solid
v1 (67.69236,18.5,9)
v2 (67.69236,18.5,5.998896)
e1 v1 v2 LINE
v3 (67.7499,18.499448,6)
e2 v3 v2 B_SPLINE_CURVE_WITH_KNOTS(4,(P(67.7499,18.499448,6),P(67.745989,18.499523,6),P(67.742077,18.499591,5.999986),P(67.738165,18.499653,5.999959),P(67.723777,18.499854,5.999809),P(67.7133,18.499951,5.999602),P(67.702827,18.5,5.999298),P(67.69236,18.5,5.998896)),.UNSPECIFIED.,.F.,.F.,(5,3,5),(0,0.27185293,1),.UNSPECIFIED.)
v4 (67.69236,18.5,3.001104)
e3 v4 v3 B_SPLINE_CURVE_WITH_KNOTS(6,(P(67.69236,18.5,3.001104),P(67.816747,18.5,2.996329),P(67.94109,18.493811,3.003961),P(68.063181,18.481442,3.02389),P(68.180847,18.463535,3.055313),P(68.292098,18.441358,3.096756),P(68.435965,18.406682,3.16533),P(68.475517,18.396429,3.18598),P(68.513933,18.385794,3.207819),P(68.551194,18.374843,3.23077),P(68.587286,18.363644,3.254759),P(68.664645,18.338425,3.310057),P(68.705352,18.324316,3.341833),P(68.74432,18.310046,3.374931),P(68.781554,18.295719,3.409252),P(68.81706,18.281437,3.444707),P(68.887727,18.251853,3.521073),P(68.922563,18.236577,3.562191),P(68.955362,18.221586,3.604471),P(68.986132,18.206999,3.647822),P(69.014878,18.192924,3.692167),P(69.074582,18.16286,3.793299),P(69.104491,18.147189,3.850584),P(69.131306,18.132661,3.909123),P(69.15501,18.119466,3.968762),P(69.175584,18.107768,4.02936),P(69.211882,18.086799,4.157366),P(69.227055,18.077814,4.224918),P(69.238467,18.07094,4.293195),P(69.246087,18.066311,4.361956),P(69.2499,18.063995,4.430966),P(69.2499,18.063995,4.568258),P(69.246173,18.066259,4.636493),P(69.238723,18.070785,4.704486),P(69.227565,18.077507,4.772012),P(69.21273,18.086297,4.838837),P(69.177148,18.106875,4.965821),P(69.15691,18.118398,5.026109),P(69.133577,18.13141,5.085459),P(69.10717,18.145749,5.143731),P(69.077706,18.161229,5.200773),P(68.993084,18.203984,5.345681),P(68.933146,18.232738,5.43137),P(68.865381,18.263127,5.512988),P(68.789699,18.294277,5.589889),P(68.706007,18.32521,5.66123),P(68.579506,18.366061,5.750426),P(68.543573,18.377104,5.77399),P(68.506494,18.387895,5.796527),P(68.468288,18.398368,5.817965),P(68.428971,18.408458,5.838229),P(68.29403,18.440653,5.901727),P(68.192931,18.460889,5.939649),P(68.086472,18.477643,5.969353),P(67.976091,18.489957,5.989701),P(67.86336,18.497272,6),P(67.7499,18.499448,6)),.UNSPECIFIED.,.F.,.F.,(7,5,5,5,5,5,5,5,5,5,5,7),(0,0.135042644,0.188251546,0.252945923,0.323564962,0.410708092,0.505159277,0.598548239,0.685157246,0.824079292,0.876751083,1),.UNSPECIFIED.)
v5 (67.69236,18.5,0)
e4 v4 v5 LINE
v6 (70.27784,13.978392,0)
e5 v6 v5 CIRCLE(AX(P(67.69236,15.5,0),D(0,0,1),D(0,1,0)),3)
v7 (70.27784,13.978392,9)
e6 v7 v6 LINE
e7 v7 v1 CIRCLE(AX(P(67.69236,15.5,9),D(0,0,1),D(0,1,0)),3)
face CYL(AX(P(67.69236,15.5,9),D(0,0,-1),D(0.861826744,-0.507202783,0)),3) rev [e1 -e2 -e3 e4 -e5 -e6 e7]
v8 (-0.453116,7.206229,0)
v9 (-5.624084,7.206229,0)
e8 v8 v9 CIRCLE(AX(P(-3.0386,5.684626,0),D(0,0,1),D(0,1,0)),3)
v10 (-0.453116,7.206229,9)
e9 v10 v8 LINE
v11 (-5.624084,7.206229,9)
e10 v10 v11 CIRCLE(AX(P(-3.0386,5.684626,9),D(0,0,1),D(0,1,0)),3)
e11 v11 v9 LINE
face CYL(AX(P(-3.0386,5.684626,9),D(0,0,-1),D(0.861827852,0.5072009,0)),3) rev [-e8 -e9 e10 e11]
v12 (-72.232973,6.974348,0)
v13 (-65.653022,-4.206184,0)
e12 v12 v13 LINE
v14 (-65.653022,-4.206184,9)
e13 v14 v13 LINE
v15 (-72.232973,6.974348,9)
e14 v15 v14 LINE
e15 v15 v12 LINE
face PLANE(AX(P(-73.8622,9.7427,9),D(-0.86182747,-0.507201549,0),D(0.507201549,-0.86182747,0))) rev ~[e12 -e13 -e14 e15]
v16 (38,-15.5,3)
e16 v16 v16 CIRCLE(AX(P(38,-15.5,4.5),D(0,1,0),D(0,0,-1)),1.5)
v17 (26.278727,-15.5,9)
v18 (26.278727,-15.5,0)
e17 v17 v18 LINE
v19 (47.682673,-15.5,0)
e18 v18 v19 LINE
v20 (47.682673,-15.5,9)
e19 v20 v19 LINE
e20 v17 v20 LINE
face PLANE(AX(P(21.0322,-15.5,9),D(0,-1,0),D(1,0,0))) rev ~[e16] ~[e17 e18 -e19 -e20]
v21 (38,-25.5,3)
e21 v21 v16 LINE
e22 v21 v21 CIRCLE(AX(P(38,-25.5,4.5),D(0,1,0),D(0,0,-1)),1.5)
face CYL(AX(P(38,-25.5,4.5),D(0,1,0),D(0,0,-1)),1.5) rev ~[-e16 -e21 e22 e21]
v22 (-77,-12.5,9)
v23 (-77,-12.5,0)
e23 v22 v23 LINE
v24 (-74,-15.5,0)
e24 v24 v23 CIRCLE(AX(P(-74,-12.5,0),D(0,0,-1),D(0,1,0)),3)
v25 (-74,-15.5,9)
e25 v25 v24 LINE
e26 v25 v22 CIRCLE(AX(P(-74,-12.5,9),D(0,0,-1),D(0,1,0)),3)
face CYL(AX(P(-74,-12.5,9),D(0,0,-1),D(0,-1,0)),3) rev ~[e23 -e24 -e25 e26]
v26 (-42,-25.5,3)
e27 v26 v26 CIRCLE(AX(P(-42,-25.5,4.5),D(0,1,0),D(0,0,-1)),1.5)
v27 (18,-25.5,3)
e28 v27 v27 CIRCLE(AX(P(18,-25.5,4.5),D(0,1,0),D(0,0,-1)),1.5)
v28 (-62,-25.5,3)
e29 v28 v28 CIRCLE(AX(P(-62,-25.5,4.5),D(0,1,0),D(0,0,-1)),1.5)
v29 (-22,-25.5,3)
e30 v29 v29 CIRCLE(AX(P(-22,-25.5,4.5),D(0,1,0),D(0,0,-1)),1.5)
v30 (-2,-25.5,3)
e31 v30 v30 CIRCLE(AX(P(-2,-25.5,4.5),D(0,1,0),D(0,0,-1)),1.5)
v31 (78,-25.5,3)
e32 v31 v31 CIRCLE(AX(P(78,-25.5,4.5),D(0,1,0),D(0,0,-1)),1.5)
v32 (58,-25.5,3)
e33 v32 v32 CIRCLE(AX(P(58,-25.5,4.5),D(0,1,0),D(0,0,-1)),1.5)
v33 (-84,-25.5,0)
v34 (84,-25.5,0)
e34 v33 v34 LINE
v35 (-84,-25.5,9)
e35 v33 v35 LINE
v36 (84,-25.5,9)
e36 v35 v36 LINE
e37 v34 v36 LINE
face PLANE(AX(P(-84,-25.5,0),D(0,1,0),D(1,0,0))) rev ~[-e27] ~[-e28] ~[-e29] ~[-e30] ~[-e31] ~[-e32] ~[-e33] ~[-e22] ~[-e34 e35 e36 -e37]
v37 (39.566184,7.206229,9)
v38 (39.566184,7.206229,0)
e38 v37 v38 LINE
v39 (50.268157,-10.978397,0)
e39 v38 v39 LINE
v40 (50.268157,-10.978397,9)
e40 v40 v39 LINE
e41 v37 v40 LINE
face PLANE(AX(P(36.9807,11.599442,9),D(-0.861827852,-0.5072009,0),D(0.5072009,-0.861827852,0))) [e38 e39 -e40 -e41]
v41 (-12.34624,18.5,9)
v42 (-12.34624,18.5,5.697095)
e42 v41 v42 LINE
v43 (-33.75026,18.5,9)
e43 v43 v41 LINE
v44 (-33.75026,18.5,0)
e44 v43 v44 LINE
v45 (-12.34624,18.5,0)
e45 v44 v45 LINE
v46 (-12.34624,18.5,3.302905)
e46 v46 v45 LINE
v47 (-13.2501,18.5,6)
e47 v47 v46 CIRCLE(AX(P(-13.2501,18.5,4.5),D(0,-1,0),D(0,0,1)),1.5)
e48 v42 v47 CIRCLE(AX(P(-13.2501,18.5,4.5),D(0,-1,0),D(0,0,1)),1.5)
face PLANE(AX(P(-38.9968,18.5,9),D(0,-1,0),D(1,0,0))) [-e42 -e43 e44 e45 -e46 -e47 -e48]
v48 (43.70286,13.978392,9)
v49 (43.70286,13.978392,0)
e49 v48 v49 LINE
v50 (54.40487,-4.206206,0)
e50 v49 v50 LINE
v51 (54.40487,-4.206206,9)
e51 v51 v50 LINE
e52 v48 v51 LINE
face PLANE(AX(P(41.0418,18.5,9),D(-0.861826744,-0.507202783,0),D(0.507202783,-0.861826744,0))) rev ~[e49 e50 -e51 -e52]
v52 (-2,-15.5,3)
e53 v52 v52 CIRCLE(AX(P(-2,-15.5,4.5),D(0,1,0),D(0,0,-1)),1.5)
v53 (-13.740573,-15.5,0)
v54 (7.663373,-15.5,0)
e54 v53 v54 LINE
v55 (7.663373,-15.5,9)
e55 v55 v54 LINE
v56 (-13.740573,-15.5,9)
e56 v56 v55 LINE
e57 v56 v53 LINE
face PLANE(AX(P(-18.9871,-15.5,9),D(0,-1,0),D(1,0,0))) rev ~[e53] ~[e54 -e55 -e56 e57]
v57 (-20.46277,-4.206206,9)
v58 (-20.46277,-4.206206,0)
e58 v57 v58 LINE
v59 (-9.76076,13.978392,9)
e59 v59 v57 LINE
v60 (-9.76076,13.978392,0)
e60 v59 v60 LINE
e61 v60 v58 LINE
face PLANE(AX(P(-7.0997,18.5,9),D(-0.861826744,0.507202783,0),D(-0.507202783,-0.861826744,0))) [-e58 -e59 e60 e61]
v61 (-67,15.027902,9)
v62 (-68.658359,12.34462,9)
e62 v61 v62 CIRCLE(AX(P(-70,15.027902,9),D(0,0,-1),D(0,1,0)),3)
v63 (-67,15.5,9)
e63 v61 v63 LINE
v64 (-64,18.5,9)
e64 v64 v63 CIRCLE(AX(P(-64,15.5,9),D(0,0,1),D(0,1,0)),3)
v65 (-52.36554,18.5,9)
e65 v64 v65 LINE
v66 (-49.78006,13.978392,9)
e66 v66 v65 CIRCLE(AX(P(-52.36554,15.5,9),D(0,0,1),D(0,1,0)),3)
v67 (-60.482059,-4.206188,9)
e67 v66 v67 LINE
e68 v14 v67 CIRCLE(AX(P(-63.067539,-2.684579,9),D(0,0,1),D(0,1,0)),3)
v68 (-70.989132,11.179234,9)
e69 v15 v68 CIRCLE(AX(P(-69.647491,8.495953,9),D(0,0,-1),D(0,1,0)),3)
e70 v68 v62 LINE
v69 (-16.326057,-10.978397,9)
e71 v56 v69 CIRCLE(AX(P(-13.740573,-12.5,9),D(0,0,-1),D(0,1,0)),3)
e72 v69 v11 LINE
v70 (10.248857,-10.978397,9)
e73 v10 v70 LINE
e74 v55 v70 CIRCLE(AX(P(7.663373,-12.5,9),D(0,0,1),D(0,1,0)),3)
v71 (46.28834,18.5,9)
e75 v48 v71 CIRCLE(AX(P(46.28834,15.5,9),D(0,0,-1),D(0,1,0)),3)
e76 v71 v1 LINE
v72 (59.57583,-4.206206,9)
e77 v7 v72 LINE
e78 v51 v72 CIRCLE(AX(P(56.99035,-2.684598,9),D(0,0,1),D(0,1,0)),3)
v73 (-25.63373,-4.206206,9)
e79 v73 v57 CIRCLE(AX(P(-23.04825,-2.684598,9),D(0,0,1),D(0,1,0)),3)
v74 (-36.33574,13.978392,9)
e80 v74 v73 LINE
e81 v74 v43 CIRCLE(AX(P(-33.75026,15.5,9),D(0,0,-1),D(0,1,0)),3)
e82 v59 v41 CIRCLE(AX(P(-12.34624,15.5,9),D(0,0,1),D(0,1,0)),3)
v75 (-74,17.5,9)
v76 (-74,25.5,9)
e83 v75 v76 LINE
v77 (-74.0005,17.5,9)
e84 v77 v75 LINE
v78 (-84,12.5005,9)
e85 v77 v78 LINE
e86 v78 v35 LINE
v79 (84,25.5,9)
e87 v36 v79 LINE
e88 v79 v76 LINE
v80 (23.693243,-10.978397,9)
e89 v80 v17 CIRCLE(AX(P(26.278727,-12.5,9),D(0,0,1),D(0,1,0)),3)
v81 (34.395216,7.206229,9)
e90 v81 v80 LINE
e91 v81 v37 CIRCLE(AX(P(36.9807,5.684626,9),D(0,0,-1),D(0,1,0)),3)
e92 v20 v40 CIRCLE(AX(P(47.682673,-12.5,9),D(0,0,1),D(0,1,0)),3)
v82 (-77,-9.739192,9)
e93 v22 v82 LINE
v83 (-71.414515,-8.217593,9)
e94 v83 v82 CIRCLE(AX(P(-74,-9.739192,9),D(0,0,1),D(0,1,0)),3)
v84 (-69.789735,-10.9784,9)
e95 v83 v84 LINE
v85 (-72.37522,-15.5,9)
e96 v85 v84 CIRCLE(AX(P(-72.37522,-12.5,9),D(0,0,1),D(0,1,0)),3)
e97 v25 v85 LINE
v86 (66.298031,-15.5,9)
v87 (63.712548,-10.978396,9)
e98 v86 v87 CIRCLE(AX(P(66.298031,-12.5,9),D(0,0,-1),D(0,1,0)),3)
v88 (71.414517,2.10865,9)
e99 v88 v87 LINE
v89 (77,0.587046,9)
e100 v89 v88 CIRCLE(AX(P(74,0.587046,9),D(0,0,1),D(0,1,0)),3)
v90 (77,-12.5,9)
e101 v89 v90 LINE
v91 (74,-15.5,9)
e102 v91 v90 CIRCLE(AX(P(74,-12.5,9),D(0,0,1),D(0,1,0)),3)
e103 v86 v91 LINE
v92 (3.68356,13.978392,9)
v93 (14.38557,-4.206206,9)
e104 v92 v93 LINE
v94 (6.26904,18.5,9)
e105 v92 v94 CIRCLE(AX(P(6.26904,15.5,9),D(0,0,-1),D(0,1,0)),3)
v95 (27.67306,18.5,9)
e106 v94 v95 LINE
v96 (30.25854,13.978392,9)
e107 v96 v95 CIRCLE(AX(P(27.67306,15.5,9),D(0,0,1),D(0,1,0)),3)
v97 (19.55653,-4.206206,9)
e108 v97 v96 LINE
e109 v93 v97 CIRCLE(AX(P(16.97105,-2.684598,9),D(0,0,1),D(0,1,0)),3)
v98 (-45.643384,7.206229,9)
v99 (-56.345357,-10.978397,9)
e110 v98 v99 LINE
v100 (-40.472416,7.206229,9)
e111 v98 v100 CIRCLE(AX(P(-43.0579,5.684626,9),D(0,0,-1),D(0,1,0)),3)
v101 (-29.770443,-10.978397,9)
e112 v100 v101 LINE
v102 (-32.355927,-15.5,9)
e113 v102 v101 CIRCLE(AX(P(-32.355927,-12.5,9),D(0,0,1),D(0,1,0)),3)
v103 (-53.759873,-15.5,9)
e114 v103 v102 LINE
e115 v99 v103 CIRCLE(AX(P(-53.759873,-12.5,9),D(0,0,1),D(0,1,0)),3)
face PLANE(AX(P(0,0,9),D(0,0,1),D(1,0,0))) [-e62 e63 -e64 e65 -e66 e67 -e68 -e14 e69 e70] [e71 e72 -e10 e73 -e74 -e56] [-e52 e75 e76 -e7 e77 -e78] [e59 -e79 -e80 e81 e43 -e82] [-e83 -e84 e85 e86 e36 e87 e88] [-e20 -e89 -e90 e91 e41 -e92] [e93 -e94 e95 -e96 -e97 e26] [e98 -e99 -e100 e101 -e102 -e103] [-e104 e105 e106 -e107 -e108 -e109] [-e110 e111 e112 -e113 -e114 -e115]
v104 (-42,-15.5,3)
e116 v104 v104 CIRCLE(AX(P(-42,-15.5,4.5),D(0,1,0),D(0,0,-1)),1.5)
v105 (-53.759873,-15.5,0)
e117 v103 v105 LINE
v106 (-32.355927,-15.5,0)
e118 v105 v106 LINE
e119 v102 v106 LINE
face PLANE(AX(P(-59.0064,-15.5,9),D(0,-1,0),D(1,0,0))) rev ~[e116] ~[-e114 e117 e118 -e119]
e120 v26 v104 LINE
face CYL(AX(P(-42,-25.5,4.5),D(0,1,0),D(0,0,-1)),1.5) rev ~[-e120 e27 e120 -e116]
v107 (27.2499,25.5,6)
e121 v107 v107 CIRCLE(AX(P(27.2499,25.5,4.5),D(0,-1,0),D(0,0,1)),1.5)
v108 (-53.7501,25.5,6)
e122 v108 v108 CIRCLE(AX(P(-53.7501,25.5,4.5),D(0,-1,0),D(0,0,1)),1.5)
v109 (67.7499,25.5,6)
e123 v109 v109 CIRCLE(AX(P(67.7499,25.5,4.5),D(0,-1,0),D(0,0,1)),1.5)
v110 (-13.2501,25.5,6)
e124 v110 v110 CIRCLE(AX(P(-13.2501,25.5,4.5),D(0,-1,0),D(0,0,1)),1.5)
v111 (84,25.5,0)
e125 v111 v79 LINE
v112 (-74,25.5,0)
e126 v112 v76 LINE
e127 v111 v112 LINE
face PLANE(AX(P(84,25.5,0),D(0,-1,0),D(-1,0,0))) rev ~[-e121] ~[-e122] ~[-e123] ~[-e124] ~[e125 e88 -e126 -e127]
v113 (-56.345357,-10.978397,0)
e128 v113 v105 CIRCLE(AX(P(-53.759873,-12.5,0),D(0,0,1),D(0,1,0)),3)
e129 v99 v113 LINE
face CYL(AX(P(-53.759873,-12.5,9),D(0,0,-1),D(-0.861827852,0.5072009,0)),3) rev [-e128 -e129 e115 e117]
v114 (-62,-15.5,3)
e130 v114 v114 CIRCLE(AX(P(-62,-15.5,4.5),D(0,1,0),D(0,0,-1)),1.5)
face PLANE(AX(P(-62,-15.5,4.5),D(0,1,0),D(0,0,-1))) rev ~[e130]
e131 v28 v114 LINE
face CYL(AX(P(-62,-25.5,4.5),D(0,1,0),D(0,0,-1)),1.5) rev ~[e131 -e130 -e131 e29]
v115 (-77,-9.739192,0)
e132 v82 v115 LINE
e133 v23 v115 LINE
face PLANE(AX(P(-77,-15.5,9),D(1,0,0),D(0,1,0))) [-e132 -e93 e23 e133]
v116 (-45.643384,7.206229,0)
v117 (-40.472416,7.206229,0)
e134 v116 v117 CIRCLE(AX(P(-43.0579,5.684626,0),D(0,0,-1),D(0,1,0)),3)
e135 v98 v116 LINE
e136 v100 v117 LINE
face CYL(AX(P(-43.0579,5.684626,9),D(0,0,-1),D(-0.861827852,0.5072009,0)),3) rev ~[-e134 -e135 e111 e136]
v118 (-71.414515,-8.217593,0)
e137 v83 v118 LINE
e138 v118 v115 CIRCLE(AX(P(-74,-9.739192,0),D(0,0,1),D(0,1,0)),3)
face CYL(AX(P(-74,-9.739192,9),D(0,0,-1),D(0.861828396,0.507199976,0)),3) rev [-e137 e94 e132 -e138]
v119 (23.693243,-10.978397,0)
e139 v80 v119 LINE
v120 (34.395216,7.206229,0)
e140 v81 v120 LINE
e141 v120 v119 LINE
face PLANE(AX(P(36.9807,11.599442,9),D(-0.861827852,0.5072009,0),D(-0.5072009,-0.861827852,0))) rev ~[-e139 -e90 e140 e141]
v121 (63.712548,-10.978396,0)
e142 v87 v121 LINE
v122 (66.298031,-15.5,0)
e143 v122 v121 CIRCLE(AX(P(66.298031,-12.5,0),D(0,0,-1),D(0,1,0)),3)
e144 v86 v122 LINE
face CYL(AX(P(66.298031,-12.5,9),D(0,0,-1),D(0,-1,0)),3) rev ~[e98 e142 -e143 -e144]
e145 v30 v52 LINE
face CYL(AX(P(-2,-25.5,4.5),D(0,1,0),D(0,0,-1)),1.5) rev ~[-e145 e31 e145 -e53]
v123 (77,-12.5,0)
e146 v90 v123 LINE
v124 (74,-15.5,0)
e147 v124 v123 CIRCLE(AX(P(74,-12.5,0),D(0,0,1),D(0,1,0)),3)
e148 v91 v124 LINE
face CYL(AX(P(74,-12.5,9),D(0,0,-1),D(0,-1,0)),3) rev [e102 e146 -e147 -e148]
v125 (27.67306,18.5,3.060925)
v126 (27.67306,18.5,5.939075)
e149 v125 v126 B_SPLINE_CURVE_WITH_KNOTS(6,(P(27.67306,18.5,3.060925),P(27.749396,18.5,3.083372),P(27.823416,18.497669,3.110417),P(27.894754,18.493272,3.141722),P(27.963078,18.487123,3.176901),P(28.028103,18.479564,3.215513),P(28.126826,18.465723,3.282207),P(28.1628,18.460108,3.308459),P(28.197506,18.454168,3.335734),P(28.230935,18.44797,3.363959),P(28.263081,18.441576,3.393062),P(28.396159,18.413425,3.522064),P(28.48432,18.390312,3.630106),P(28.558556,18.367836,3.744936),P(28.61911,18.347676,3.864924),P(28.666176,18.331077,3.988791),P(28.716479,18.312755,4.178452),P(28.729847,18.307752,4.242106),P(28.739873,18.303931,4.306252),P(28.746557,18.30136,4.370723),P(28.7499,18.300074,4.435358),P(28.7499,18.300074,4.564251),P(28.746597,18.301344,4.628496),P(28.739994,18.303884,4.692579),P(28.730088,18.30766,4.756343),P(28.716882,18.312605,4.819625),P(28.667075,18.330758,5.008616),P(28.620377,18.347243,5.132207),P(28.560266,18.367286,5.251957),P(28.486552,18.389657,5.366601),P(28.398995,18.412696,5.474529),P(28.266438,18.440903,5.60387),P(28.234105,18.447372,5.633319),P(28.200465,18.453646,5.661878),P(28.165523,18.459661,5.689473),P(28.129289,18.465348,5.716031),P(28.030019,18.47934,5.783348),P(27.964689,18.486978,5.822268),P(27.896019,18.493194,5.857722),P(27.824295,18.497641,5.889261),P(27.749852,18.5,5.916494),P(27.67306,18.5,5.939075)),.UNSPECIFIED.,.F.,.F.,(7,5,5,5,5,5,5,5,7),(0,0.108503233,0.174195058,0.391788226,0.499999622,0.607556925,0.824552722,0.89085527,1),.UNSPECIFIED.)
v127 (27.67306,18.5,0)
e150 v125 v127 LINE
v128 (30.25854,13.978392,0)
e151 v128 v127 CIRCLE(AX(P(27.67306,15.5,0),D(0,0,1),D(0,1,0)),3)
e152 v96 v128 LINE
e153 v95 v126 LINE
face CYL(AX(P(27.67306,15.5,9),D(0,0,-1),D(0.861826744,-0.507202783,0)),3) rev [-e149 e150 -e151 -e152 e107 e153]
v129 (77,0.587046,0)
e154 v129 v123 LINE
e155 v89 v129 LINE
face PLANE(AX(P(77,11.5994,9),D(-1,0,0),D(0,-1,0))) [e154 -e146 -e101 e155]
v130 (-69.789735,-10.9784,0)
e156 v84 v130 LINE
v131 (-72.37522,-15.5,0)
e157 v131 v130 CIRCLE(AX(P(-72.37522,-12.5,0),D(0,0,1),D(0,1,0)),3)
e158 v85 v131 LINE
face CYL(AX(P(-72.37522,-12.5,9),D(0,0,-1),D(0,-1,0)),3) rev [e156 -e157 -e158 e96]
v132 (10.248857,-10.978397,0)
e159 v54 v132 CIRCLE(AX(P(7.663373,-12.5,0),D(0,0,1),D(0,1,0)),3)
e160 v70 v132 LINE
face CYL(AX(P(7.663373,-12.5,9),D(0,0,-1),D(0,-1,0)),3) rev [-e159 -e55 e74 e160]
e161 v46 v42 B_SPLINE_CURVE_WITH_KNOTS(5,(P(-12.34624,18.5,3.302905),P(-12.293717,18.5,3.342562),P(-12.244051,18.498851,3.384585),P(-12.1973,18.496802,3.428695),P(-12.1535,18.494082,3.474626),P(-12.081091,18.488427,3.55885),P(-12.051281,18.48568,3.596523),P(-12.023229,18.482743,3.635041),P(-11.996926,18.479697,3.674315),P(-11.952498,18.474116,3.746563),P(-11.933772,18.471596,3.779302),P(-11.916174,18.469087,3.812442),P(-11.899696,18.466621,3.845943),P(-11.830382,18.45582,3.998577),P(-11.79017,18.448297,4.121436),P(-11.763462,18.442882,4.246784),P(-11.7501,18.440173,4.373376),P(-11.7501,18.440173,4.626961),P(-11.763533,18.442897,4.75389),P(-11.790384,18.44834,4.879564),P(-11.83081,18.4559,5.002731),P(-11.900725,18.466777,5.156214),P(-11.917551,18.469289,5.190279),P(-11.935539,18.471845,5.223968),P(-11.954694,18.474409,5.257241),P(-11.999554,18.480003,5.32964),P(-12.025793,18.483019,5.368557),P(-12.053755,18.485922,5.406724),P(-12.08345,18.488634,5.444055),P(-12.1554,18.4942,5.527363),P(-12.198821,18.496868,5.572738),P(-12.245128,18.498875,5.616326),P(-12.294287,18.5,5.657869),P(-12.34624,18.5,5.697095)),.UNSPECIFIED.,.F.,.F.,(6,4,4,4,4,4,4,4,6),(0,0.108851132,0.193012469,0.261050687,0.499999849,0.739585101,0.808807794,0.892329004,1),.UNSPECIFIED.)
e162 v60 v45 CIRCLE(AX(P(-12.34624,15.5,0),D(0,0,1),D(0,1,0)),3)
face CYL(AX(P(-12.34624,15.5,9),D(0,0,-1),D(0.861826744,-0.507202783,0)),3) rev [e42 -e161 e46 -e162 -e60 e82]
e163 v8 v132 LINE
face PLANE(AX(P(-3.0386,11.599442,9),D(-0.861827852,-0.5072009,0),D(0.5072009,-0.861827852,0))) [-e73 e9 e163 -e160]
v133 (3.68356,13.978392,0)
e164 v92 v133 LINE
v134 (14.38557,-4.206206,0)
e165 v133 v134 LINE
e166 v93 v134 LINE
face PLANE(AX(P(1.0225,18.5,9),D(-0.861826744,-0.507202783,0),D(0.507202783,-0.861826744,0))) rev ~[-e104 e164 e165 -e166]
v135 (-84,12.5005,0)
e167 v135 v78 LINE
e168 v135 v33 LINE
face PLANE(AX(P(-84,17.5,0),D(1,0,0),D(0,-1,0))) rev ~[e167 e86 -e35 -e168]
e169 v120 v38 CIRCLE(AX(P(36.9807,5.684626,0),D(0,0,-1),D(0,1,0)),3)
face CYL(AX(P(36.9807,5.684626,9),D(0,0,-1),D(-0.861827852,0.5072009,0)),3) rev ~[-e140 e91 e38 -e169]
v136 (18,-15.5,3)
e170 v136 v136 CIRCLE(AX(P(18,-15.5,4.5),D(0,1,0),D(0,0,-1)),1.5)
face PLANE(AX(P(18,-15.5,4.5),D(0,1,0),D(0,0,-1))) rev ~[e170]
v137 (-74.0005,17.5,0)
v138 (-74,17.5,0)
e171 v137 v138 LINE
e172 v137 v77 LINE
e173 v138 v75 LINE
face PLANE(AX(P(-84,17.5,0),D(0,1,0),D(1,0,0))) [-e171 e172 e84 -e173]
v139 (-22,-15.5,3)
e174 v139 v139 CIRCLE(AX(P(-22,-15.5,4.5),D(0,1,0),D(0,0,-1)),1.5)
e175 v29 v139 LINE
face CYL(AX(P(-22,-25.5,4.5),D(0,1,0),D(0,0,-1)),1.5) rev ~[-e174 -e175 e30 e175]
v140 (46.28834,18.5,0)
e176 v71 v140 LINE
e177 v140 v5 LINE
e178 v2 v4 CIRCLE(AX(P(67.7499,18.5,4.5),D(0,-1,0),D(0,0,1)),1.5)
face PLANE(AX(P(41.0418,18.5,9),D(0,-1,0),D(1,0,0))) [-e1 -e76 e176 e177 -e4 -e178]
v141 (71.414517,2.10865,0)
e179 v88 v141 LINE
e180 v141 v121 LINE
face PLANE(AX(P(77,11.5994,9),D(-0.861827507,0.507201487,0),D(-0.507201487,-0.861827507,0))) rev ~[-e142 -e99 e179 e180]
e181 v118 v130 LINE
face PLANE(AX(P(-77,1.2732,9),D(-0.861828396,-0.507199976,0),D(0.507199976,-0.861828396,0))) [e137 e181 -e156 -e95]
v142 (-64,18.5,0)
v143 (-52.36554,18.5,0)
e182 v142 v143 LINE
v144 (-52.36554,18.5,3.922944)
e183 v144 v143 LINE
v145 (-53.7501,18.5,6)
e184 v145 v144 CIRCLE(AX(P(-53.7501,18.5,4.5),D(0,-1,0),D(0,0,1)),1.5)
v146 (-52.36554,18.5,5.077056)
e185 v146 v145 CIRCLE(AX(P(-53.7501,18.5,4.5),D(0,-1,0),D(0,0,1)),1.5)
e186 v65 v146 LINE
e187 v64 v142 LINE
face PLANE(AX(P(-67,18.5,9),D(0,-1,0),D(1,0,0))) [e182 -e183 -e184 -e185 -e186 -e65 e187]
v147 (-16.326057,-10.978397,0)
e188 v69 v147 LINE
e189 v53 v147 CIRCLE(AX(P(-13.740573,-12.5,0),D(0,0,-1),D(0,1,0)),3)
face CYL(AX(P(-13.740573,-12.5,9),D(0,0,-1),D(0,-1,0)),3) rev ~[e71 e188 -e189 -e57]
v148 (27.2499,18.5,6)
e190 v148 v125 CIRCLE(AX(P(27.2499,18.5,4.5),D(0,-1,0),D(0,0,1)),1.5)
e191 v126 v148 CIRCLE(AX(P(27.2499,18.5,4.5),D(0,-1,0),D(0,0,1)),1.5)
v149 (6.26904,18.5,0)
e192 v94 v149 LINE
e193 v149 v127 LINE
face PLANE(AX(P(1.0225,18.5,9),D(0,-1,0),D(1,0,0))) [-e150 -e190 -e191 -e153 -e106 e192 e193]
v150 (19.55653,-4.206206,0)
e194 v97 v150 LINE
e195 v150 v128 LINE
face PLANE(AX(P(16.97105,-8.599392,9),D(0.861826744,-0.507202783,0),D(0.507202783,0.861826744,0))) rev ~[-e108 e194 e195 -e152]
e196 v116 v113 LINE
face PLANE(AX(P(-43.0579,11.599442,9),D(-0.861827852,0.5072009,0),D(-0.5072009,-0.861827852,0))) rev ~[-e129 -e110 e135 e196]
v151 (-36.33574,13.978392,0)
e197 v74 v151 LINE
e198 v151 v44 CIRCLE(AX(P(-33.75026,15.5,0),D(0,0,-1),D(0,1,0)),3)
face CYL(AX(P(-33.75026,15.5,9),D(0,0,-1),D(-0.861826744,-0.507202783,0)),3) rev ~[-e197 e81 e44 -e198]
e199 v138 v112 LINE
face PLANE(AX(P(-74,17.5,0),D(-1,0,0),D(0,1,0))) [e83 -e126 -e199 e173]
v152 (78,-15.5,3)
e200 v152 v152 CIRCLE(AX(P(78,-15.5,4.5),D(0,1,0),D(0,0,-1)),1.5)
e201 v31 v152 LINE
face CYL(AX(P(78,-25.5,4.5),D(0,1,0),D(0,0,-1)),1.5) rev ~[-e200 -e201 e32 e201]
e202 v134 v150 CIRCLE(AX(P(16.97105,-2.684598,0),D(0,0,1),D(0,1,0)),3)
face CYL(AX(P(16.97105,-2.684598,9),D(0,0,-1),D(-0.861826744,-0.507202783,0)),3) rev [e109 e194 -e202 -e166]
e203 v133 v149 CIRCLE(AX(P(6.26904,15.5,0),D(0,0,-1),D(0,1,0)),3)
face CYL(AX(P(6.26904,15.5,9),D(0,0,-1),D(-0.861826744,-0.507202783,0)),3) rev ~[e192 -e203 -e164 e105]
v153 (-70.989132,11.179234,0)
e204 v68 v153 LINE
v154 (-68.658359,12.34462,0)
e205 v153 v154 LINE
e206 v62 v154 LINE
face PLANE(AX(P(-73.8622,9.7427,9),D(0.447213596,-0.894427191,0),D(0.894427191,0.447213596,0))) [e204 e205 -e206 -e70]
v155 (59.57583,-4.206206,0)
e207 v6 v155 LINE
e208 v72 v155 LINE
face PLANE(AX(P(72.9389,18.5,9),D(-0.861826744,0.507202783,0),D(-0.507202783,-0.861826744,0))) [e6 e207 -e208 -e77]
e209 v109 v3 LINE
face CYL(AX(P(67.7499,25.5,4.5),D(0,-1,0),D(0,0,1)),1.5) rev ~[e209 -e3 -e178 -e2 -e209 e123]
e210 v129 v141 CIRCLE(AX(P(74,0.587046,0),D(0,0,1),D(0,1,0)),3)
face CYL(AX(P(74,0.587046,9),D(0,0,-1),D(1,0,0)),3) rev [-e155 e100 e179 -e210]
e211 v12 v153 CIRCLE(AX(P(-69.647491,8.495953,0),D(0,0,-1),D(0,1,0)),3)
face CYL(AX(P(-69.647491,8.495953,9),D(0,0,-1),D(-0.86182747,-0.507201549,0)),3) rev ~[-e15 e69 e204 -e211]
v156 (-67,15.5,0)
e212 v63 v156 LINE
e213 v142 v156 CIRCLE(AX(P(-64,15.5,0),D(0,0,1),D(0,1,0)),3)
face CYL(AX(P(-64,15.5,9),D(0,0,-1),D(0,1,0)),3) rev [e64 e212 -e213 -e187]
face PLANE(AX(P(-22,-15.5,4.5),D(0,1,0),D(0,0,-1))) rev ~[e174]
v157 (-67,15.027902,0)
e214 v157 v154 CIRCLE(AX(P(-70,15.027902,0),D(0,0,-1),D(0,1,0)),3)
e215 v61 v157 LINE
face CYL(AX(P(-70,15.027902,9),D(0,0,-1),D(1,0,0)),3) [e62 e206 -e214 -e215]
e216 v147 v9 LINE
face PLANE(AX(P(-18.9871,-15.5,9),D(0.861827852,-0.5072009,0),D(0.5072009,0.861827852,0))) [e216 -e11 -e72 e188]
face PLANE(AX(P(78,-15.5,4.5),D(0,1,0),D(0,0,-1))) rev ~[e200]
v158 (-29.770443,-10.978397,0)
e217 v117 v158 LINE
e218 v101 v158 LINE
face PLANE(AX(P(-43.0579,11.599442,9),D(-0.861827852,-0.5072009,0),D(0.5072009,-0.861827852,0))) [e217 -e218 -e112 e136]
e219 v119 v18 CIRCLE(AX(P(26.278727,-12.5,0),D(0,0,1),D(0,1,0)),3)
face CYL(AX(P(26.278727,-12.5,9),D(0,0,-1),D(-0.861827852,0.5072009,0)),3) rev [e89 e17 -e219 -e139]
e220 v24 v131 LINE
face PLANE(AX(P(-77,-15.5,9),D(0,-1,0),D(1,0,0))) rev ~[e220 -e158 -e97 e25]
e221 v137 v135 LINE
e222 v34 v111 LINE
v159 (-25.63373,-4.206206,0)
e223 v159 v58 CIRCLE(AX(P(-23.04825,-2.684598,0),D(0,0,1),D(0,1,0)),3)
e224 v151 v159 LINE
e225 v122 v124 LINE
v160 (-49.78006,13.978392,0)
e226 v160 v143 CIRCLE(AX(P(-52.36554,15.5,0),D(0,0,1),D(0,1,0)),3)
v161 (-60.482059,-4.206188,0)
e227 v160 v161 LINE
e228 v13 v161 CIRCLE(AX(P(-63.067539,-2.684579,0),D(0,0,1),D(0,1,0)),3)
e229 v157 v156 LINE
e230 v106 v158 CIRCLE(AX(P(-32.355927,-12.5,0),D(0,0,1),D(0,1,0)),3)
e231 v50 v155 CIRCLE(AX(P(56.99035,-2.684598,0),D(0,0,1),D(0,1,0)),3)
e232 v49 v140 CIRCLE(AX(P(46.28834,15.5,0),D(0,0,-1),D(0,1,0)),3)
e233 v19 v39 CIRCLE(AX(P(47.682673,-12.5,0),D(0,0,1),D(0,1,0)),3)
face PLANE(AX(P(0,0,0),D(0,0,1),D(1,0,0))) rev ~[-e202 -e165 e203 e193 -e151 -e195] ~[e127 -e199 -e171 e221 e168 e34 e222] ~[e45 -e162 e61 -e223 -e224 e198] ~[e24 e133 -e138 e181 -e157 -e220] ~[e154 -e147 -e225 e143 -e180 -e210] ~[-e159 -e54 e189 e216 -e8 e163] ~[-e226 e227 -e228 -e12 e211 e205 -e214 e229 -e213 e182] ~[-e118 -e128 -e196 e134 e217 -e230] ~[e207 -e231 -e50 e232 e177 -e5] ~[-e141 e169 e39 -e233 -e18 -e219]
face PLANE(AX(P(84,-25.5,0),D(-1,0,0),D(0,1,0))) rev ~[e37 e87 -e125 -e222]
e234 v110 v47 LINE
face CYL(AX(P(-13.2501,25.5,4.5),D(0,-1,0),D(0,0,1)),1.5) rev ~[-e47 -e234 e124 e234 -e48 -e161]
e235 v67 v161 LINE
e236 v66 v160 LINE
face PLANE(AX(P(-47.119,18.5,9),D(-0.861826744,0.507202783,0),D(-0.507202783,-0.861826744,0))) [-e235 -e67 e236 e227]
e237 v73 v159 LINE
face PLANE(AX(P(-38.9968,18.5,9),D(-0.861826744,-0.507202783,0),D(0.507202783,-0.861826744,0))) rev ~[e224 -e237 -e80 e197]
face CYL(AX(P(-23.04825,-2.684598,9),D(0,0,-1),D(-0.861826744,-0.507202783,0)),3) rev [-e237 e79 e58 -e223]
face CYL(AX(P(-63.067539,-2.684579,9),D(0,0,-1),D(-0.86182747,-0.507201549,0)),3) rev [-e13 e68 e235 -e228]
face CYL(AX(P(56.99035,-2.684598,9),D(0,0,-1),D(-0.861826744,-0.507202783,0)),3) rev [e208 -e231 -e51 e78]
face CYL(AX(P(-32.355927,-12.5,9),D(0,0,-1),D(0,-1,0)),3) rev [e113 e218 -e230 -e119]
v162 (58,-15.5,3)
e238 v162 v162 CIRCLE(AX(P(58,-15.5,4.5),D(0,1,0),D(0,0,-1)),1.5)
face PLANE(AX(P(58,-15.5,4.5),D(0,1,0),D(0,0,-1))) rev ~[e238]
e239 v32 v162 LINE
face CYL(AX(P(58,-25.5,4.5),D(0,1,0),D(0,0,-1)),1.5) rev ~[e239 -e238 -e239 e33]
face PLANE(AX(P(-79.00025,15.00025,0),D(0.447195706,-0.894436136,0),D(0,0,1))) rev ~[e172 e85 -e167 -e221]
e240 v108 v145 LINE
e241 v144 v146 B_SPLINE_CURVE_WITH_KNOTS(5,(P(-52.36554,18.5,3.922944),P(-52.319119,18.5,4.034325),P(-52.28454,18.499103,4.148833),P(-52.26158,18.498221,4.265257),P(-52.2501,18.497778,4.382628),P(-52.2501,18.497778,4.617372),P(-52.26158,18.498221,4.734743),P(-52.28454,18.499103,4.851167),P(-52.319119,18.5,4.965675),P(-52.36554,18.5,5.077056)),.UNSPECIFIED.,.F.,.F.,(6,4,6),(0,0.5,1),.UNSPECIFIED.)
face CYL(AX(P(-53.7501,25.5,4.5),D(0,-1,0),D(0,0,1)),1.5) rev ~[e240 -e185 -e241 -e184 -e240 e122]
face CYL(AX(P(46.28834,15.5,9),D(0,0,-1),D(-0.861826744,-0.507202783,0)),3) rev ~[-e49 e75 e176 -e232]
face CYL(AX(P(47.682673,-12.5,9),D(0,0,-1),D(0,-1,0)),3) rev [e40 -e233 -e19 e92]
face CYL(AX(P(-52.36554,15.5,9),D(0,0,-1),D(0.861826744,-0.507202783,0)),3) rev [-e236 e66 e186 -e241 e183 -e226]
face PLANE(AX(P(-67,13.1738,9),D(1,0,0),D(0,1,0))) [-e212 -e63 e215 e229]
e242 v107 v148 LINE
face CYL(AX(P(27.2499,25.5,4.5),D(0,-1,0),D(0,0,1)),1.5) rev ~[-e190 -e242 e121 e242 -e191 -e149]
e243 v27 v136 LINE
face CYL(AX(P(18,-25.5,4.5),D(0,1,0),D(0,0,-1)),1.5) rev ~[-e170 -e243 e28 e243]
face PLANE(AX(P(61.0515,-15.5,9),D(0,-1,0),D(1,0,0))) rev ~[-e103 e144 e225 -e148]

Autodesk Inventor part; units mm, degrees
ref_plane "YZ Plane" through (0, 0, 0) normal (1, 0, 0) x (0, 1, 0)
ref_plane "XZ Plane" through (0, 0, 0) normal (0, 1, 0) x (-1, 0, 0)
ref_plane "XY Plane" through (0, 0, 0) normal (0, 0, 1) x (1, 0, 0)
sketch "Sketch1" plane through (0, 0, 0) normal (0, 0, 1) x (1, 0, 0)
  line L0 (-84, -25.5) -> (84, -25.5)
  line L1 (84, -25.5) -> (84, 25.5)
  line L2 (84, 25.5) -> (-84, 25.5)
  line L3 (-84, 25.5) -> (-84, -25.5)
  line L4 (-84, -25.5) -> (84, 25.5) construction
  line L5 (84, -25.5) -> (-84, 25.5) construction
  line L6 (-84, 17.5) -> (-74, 17.5)
  line L7 (-74, 17.5) -> (-74, 25.5)
  point P0 (0, 0)
  dimension "d0" = 168
  dimension "d1" = 51
  dimension "d2" = 10
  dimension "d3" = 8
extrude "Extrusion1" add sketch "Sketch1" along normal blind 9 contours L3 L6 L7 L2 L1 L0
chamfer "Chamfer1" distance 10 distance2 5 1 edges at (-84, 17.5, 4.5) measured on face at (-77.3333, 17.5, 3)
sketch "Sketch2" plane through (-84, -25.5, 0) normal (0, -1, 0) x (1, 0, 0)
  line L0 (0, 0) -> (0, 9) projected
  line L1 (0, 0) -> (168, 0) projected
  point P0 (84, 0)
  point P1 (22, 4.5)
  point P2 (42, 4.5)
  point P3 (62, 4.5)
  point P4 (82, 4.5)
  point P5 (102, 4.5)
  point P6 (122, 4.5)
  point P7 (142, 4.5)
  point P8 (162, 4.5)
  dimension "d9" = 22
  dimension "d10" = 4.5
  dimension "d13" = 20
hole "Hole1" at (-62, -25.5, 4.5) at (-42, -25.5, 4.5) at (-22, -25.5, 4.5) at (-2, -25.5, 4.5) at (18, -25.5, 4.5) at (38, -25.5, 4.5) at (58, -25.5, 4.5) direction (0, 1, 0) diameter 3 depth 10
sketch "Sketch3" plane through (0, 0, 9) normal (0, 0, 1) x (1, 0, 0)
  line L0 (-63.5, -15.5) -> (-60.5, -15.5) projected
  line L1 (-84, 12.5) -> (-84, -25.5) projected
  line L2 (-84, -15.5) -> (84, -15.5)
  line L3 (84, -25.5) -> (84, 25.5) projected
  line L4 (-84, 12.5) -> (-74, 17.5) projected
  line L5 (-84, 12.5) -> (-84, -25.5) projected
  line L6 (-84, -25.5) -> (84, -25.5) projected
  line L7 (84, -25.5) -> (84, 25.5) projected
  line L8 (84, 25.5) -> (-74, 25.5) projected
  line L9 (-74, 25.5) -> (-74, 17.5) projected
  line L10 (-67, 18.5) -> (77, 18.5)
  line L11 (77, 18.5) -> (77, -18.5)
  line L12 (77, -18.5) -> (-77, -18.5)
  line L13 (-77, -18.5) -> (-77, 8.1738)
  line L14 (-77, 8.1738) -> (-67, 13.1738)
  line L15 (-67, 13.1738) -> (-67, 18.5)
  line L16 (77, 18.5) -> (56.9904, -15.5) construction
  line L17 (36.9807, 18.5) -> (56.9904, -15.5) construction
  line L18 (16.9711, -15.5) -> (36.9807, 18.5) construction
  line L19 (-3.0386, 18.5) -> (16.9711, -15.5) construction
  line L20 (-23.0482, -15.5) -> (-3.0386, 18.5) construction
  line L21 (-23.0482, -15.5) -> (-43.0579, 18.5) construction
  line L22 (-63.0675, -15.5) -> (-43.0579, 18.5) construction
  line L23 (-77, 8.1738) -> (-63.0675, -15.5) construction
  line L24 (-63.5, -15.5) -> (-60.5, -15.5) projected
  line L25 (-63.0675, -15.5) -> (-83.0772, 18.5) construction
  line L26 (-77, 1.2732) -> (-67.1287, -15.5)
  line L27 (-73.8622, 9.7427) -> (-59.0064, -15.5)
  line L28 (-47.119, 18.5) -> (-67.1287, -15.5)
  line L29 (-38.9968, 18.5) -> (-59.0064, -15.5)
  line L30 (-47.119, 18.5) -> (-27.1094, -15.5)
  line L31 (-38.9968, 18.5) -> (-18.9871, -15.5)
  line L32 (-7.0997, 18.5) -> (-27.1094, -15.5)
  line L33 (-18.9871, -15.5) -> (1.0225, 18.5)
  line L34 (-7.0997, 18.5) -> (12.9099, -15.5)
  line L35 (1.0225, 18.5) -> (21.0322, -15.5)
  line L36 (12.9099, -15.5) -> (32.9196, 18.5)
  line L37 (41.0418, 18.5) -> (61.0515, -15.5)
  line L38 (77, 11.5994) -> (61.0515, -15.5)
  line L39 (32.9196, 18.5) -> (52.9292, -15.5)
  line L40 (41.0418, 18.5) -> (21.0322, -15.5)
  line L41 (72.9389, 18.5) -> (52.9292, -15.5)
  point P0 (0, 0)
  point P1 (-73.0724, 1.5)
  point P2 (-72.0643, -7.1134)
  point P3 (26.9759, 1.5)
  point P4 (77, -15.5)
  point P5 (-3.0386, 11.5994)
  point P6 (56.9904, -8.5994)
  point P7 (36.9807, 11.5994)
  point P8 (16.9711, -8.5994)
  point P9 (-23.0482, -8.5994)
  point P10 (-43.0579, 11.5994)
  point P11 (-77, -15.5)
  point P12 (-63.0675, -8.5994)
  dimension "d25" = 7
  dimension "d30" = 3.5
  dimension "d31" = 3.5
  dimension "d32" = 3.5
  dimension "d33" = 3.5
  dimension "d34" = 3.5
  dimension "d35" = 3.5
  dimension "d36" = 3.5
  dimension "d37" = 3.5
  dimension "d38" = 3.5
  dimension "d39" = 3.5
  dimension "d40" = 3.5
  dimension "d41" = 3.5
  dimension "d42" = 3.5
  dimension "d43" = 3.5
  dimension "d44" = 3.5
  dimension "d46" = 3.5
extrude "Extrusion2" cut sketch "Sketch3" against normal through all contours L2 L13 L26 | L29 L30 L2 | L27 L14 L15 L10 L28 | L33 L34 L2 | L31 L10 L32 | L2 L38 L11 | L40 L39 L2 | L35 L10 L36 | L37 L10 L41
fillet "Fillet1" radius 3 29 edges at (-67, 18.5, 4.5) (-67, 13.1738, 4.5) (-73.8622, 9.7427, 4.5) (-77, -15.5, 4.5) (-67.1287, -15.5, 4.5) (-43.0579, 11.5994, 4.5) (-47.119, 18.5, 4.5) (-63.0675, -8.5994, 4.5) (-59.0064, -15.5, 4.5) (-27.1094, -15.5, 4.5) (-23.0482, -8.5994, 4.5) (-38.9968, 18.5, 4.5) (-7.0997, 18.5, 4.5) (-18.9871, -15.5, 4.5) (-3.0386, 11.5994, 4.5) (12.9099, -15.5, 4.5) (16.9711, -8.5994, 4.5) (1.0225, 18.5, 4.5) (61.0515, -15.5, 4.5) (77, 11.5994, 4.5) (72.9389, 18.5, 4.5) (41.0418, 18.5, 4.5) (32.9196, 18.5, 4.5) (36.9807, 11.5994, 4.5) (21.0322, -15.5, 4.5) (52.9292, -15.5, 4.5) (56.9904, -8.5994, 4.5) (-77, 1.2732, 4.5) (77, -15.5, 4.5)
sketch "Sketch4" plane through (-74, 25.5, 0) normal (0, 1, 0) x (1, 0, 0)
  point P0 (74, 0)
sketch "Sketch5" plane through (-74, 25.5, 0) normal (0, 1, 0) x (1, 0, 0)
  line L0 (158, 0) -> (158, -9) projected
  line L1 (0, 0) -> (0, -9) projected
  line L2 (158, 0) -> (0, 0) projected
  line L3 (-10, 0) -> (-10, -9) projected
  point P0 (74, 0)
  point P1 (20.2499, -4.5)
  point P2 (60.7499, -4.5)
  point P3 (101.2499, -4.5)
  point P4 (141.7499, -4.5)
  point P5 (0, -4.5)
  dimension "d50" = 158
  dimension "d52" = 40.5
  dimension "d53" = 40.5
  dimension "d54" = 40.5
  dimension "d55" = 4.5
  dimension "d79" = 20.2499
hole "Hole2" at (-13.2501, 25.5, 4.5) at (-53.7501, 25.5, 4.5) at (27.2499, 25.5, 4.5) at (67.7499, 25.5, 4.5) direction (0, -1, 0) diameter 3 depth 10
sketch "Sketch6" plane through (0, 0, 9) normal (0, 0, 1) x (1, 0, 0)
  point P0 (0, 0)
sketch "Sketch8" plane through (-74, 25.5, 0) normal (0, 1, 0) x (1, 0, 0)
  circle A0 centre (141.7499, -4.5) radius 1.5 projected
  circle A1 centre (101.2499, -4.5) radius 1.5 projected
  circle A2 centre (20.2499, -4.5) radius 1.5 projected
  circle A3 centre (60.7499, -4.5) radius 1.5 projected
  line L0 (158, 0) -> (0, 0) projected
  line L1 (0, 0) -> (0, -9) projected
  line L2 (158, -9) -> (0, -9) projected
  line L3 (158, 0) -> (158, -9) projected
  line L4 (154, 0) -> (154, -9)
  point P0 (74, 0)
  point P1 (158, -4.5)
  point P2 (154, -4.5)
  dimension "d67" = 4
extrude "Extrusion4" [suppressed]
sketch "Sketch9" plane through (-84, -25.5, 0) normal (0, -1, 0) x (1, 0, 0)
  circle A0 centre (142, 4.5) radius 1.5 projected
  circle A1 centre (122, 4.5) radius 1.5 projected
  circle A2 centre (102, 4.5) radius 1.5 projected
  circle A3 centre (82, 4.5) radius 1.5 projected
  circle A4 centre (62, 4.5) radius 1.5 projected
  circle A5 centre (42, 4.5) radius 1.5 projected
  circle A6 centre (22, 4.5) radius 1.5 projected
  line L0 (0, 0) -> (168, 0) projected
  line L1 (168, 0) -> (168, 9) projected
  line L2 (0, 9) -> (168, 9) projected
  line L3 (0, 0) -> (0, 9) projected
  point P0 (84, 0)
  point P1 (162, 4.5)
  dimension "d70" = 20
hole "Hole3" at (78, -25.5, 4.5) direction (0, 1, 0) diameter 3 depth 10
equation "\"d30\" = 0.5 * d25"
equation "\"d31\" = 0.5 * d25"
equation "\"d32\" = 0.5 * d25"
equation "\"d33\" = 0.5 * d25"
equation "\"d34\" = 0.5 * d25"
equation "\"d35\" = 0.5 * d25"
equation "\"d36\" = 0.5 * d25"
equation "\"d37\" = 0.5 * d25"
equation "\"d38\" = 0.5 * d25"
equation "\"d39\" = 0.5 * d25"
equation "\"d40\" = 0.5 * d25"
equation "\"d41\" = 0.5 * d25"
equation "\"d42\" = 0.5 * d25"
equation "\"d43\" = 0.5 * d25"
equation "\"d44\" = 0.5 * d25"
equation "\"d46\" = 0.5 * d25"
equation "\"d53\" = d52"
equation "\"d54\" = d53"
equation "\"d51\" = 0.125 * d50"
properties part number "RightTruss" material "ABS Plastic"
